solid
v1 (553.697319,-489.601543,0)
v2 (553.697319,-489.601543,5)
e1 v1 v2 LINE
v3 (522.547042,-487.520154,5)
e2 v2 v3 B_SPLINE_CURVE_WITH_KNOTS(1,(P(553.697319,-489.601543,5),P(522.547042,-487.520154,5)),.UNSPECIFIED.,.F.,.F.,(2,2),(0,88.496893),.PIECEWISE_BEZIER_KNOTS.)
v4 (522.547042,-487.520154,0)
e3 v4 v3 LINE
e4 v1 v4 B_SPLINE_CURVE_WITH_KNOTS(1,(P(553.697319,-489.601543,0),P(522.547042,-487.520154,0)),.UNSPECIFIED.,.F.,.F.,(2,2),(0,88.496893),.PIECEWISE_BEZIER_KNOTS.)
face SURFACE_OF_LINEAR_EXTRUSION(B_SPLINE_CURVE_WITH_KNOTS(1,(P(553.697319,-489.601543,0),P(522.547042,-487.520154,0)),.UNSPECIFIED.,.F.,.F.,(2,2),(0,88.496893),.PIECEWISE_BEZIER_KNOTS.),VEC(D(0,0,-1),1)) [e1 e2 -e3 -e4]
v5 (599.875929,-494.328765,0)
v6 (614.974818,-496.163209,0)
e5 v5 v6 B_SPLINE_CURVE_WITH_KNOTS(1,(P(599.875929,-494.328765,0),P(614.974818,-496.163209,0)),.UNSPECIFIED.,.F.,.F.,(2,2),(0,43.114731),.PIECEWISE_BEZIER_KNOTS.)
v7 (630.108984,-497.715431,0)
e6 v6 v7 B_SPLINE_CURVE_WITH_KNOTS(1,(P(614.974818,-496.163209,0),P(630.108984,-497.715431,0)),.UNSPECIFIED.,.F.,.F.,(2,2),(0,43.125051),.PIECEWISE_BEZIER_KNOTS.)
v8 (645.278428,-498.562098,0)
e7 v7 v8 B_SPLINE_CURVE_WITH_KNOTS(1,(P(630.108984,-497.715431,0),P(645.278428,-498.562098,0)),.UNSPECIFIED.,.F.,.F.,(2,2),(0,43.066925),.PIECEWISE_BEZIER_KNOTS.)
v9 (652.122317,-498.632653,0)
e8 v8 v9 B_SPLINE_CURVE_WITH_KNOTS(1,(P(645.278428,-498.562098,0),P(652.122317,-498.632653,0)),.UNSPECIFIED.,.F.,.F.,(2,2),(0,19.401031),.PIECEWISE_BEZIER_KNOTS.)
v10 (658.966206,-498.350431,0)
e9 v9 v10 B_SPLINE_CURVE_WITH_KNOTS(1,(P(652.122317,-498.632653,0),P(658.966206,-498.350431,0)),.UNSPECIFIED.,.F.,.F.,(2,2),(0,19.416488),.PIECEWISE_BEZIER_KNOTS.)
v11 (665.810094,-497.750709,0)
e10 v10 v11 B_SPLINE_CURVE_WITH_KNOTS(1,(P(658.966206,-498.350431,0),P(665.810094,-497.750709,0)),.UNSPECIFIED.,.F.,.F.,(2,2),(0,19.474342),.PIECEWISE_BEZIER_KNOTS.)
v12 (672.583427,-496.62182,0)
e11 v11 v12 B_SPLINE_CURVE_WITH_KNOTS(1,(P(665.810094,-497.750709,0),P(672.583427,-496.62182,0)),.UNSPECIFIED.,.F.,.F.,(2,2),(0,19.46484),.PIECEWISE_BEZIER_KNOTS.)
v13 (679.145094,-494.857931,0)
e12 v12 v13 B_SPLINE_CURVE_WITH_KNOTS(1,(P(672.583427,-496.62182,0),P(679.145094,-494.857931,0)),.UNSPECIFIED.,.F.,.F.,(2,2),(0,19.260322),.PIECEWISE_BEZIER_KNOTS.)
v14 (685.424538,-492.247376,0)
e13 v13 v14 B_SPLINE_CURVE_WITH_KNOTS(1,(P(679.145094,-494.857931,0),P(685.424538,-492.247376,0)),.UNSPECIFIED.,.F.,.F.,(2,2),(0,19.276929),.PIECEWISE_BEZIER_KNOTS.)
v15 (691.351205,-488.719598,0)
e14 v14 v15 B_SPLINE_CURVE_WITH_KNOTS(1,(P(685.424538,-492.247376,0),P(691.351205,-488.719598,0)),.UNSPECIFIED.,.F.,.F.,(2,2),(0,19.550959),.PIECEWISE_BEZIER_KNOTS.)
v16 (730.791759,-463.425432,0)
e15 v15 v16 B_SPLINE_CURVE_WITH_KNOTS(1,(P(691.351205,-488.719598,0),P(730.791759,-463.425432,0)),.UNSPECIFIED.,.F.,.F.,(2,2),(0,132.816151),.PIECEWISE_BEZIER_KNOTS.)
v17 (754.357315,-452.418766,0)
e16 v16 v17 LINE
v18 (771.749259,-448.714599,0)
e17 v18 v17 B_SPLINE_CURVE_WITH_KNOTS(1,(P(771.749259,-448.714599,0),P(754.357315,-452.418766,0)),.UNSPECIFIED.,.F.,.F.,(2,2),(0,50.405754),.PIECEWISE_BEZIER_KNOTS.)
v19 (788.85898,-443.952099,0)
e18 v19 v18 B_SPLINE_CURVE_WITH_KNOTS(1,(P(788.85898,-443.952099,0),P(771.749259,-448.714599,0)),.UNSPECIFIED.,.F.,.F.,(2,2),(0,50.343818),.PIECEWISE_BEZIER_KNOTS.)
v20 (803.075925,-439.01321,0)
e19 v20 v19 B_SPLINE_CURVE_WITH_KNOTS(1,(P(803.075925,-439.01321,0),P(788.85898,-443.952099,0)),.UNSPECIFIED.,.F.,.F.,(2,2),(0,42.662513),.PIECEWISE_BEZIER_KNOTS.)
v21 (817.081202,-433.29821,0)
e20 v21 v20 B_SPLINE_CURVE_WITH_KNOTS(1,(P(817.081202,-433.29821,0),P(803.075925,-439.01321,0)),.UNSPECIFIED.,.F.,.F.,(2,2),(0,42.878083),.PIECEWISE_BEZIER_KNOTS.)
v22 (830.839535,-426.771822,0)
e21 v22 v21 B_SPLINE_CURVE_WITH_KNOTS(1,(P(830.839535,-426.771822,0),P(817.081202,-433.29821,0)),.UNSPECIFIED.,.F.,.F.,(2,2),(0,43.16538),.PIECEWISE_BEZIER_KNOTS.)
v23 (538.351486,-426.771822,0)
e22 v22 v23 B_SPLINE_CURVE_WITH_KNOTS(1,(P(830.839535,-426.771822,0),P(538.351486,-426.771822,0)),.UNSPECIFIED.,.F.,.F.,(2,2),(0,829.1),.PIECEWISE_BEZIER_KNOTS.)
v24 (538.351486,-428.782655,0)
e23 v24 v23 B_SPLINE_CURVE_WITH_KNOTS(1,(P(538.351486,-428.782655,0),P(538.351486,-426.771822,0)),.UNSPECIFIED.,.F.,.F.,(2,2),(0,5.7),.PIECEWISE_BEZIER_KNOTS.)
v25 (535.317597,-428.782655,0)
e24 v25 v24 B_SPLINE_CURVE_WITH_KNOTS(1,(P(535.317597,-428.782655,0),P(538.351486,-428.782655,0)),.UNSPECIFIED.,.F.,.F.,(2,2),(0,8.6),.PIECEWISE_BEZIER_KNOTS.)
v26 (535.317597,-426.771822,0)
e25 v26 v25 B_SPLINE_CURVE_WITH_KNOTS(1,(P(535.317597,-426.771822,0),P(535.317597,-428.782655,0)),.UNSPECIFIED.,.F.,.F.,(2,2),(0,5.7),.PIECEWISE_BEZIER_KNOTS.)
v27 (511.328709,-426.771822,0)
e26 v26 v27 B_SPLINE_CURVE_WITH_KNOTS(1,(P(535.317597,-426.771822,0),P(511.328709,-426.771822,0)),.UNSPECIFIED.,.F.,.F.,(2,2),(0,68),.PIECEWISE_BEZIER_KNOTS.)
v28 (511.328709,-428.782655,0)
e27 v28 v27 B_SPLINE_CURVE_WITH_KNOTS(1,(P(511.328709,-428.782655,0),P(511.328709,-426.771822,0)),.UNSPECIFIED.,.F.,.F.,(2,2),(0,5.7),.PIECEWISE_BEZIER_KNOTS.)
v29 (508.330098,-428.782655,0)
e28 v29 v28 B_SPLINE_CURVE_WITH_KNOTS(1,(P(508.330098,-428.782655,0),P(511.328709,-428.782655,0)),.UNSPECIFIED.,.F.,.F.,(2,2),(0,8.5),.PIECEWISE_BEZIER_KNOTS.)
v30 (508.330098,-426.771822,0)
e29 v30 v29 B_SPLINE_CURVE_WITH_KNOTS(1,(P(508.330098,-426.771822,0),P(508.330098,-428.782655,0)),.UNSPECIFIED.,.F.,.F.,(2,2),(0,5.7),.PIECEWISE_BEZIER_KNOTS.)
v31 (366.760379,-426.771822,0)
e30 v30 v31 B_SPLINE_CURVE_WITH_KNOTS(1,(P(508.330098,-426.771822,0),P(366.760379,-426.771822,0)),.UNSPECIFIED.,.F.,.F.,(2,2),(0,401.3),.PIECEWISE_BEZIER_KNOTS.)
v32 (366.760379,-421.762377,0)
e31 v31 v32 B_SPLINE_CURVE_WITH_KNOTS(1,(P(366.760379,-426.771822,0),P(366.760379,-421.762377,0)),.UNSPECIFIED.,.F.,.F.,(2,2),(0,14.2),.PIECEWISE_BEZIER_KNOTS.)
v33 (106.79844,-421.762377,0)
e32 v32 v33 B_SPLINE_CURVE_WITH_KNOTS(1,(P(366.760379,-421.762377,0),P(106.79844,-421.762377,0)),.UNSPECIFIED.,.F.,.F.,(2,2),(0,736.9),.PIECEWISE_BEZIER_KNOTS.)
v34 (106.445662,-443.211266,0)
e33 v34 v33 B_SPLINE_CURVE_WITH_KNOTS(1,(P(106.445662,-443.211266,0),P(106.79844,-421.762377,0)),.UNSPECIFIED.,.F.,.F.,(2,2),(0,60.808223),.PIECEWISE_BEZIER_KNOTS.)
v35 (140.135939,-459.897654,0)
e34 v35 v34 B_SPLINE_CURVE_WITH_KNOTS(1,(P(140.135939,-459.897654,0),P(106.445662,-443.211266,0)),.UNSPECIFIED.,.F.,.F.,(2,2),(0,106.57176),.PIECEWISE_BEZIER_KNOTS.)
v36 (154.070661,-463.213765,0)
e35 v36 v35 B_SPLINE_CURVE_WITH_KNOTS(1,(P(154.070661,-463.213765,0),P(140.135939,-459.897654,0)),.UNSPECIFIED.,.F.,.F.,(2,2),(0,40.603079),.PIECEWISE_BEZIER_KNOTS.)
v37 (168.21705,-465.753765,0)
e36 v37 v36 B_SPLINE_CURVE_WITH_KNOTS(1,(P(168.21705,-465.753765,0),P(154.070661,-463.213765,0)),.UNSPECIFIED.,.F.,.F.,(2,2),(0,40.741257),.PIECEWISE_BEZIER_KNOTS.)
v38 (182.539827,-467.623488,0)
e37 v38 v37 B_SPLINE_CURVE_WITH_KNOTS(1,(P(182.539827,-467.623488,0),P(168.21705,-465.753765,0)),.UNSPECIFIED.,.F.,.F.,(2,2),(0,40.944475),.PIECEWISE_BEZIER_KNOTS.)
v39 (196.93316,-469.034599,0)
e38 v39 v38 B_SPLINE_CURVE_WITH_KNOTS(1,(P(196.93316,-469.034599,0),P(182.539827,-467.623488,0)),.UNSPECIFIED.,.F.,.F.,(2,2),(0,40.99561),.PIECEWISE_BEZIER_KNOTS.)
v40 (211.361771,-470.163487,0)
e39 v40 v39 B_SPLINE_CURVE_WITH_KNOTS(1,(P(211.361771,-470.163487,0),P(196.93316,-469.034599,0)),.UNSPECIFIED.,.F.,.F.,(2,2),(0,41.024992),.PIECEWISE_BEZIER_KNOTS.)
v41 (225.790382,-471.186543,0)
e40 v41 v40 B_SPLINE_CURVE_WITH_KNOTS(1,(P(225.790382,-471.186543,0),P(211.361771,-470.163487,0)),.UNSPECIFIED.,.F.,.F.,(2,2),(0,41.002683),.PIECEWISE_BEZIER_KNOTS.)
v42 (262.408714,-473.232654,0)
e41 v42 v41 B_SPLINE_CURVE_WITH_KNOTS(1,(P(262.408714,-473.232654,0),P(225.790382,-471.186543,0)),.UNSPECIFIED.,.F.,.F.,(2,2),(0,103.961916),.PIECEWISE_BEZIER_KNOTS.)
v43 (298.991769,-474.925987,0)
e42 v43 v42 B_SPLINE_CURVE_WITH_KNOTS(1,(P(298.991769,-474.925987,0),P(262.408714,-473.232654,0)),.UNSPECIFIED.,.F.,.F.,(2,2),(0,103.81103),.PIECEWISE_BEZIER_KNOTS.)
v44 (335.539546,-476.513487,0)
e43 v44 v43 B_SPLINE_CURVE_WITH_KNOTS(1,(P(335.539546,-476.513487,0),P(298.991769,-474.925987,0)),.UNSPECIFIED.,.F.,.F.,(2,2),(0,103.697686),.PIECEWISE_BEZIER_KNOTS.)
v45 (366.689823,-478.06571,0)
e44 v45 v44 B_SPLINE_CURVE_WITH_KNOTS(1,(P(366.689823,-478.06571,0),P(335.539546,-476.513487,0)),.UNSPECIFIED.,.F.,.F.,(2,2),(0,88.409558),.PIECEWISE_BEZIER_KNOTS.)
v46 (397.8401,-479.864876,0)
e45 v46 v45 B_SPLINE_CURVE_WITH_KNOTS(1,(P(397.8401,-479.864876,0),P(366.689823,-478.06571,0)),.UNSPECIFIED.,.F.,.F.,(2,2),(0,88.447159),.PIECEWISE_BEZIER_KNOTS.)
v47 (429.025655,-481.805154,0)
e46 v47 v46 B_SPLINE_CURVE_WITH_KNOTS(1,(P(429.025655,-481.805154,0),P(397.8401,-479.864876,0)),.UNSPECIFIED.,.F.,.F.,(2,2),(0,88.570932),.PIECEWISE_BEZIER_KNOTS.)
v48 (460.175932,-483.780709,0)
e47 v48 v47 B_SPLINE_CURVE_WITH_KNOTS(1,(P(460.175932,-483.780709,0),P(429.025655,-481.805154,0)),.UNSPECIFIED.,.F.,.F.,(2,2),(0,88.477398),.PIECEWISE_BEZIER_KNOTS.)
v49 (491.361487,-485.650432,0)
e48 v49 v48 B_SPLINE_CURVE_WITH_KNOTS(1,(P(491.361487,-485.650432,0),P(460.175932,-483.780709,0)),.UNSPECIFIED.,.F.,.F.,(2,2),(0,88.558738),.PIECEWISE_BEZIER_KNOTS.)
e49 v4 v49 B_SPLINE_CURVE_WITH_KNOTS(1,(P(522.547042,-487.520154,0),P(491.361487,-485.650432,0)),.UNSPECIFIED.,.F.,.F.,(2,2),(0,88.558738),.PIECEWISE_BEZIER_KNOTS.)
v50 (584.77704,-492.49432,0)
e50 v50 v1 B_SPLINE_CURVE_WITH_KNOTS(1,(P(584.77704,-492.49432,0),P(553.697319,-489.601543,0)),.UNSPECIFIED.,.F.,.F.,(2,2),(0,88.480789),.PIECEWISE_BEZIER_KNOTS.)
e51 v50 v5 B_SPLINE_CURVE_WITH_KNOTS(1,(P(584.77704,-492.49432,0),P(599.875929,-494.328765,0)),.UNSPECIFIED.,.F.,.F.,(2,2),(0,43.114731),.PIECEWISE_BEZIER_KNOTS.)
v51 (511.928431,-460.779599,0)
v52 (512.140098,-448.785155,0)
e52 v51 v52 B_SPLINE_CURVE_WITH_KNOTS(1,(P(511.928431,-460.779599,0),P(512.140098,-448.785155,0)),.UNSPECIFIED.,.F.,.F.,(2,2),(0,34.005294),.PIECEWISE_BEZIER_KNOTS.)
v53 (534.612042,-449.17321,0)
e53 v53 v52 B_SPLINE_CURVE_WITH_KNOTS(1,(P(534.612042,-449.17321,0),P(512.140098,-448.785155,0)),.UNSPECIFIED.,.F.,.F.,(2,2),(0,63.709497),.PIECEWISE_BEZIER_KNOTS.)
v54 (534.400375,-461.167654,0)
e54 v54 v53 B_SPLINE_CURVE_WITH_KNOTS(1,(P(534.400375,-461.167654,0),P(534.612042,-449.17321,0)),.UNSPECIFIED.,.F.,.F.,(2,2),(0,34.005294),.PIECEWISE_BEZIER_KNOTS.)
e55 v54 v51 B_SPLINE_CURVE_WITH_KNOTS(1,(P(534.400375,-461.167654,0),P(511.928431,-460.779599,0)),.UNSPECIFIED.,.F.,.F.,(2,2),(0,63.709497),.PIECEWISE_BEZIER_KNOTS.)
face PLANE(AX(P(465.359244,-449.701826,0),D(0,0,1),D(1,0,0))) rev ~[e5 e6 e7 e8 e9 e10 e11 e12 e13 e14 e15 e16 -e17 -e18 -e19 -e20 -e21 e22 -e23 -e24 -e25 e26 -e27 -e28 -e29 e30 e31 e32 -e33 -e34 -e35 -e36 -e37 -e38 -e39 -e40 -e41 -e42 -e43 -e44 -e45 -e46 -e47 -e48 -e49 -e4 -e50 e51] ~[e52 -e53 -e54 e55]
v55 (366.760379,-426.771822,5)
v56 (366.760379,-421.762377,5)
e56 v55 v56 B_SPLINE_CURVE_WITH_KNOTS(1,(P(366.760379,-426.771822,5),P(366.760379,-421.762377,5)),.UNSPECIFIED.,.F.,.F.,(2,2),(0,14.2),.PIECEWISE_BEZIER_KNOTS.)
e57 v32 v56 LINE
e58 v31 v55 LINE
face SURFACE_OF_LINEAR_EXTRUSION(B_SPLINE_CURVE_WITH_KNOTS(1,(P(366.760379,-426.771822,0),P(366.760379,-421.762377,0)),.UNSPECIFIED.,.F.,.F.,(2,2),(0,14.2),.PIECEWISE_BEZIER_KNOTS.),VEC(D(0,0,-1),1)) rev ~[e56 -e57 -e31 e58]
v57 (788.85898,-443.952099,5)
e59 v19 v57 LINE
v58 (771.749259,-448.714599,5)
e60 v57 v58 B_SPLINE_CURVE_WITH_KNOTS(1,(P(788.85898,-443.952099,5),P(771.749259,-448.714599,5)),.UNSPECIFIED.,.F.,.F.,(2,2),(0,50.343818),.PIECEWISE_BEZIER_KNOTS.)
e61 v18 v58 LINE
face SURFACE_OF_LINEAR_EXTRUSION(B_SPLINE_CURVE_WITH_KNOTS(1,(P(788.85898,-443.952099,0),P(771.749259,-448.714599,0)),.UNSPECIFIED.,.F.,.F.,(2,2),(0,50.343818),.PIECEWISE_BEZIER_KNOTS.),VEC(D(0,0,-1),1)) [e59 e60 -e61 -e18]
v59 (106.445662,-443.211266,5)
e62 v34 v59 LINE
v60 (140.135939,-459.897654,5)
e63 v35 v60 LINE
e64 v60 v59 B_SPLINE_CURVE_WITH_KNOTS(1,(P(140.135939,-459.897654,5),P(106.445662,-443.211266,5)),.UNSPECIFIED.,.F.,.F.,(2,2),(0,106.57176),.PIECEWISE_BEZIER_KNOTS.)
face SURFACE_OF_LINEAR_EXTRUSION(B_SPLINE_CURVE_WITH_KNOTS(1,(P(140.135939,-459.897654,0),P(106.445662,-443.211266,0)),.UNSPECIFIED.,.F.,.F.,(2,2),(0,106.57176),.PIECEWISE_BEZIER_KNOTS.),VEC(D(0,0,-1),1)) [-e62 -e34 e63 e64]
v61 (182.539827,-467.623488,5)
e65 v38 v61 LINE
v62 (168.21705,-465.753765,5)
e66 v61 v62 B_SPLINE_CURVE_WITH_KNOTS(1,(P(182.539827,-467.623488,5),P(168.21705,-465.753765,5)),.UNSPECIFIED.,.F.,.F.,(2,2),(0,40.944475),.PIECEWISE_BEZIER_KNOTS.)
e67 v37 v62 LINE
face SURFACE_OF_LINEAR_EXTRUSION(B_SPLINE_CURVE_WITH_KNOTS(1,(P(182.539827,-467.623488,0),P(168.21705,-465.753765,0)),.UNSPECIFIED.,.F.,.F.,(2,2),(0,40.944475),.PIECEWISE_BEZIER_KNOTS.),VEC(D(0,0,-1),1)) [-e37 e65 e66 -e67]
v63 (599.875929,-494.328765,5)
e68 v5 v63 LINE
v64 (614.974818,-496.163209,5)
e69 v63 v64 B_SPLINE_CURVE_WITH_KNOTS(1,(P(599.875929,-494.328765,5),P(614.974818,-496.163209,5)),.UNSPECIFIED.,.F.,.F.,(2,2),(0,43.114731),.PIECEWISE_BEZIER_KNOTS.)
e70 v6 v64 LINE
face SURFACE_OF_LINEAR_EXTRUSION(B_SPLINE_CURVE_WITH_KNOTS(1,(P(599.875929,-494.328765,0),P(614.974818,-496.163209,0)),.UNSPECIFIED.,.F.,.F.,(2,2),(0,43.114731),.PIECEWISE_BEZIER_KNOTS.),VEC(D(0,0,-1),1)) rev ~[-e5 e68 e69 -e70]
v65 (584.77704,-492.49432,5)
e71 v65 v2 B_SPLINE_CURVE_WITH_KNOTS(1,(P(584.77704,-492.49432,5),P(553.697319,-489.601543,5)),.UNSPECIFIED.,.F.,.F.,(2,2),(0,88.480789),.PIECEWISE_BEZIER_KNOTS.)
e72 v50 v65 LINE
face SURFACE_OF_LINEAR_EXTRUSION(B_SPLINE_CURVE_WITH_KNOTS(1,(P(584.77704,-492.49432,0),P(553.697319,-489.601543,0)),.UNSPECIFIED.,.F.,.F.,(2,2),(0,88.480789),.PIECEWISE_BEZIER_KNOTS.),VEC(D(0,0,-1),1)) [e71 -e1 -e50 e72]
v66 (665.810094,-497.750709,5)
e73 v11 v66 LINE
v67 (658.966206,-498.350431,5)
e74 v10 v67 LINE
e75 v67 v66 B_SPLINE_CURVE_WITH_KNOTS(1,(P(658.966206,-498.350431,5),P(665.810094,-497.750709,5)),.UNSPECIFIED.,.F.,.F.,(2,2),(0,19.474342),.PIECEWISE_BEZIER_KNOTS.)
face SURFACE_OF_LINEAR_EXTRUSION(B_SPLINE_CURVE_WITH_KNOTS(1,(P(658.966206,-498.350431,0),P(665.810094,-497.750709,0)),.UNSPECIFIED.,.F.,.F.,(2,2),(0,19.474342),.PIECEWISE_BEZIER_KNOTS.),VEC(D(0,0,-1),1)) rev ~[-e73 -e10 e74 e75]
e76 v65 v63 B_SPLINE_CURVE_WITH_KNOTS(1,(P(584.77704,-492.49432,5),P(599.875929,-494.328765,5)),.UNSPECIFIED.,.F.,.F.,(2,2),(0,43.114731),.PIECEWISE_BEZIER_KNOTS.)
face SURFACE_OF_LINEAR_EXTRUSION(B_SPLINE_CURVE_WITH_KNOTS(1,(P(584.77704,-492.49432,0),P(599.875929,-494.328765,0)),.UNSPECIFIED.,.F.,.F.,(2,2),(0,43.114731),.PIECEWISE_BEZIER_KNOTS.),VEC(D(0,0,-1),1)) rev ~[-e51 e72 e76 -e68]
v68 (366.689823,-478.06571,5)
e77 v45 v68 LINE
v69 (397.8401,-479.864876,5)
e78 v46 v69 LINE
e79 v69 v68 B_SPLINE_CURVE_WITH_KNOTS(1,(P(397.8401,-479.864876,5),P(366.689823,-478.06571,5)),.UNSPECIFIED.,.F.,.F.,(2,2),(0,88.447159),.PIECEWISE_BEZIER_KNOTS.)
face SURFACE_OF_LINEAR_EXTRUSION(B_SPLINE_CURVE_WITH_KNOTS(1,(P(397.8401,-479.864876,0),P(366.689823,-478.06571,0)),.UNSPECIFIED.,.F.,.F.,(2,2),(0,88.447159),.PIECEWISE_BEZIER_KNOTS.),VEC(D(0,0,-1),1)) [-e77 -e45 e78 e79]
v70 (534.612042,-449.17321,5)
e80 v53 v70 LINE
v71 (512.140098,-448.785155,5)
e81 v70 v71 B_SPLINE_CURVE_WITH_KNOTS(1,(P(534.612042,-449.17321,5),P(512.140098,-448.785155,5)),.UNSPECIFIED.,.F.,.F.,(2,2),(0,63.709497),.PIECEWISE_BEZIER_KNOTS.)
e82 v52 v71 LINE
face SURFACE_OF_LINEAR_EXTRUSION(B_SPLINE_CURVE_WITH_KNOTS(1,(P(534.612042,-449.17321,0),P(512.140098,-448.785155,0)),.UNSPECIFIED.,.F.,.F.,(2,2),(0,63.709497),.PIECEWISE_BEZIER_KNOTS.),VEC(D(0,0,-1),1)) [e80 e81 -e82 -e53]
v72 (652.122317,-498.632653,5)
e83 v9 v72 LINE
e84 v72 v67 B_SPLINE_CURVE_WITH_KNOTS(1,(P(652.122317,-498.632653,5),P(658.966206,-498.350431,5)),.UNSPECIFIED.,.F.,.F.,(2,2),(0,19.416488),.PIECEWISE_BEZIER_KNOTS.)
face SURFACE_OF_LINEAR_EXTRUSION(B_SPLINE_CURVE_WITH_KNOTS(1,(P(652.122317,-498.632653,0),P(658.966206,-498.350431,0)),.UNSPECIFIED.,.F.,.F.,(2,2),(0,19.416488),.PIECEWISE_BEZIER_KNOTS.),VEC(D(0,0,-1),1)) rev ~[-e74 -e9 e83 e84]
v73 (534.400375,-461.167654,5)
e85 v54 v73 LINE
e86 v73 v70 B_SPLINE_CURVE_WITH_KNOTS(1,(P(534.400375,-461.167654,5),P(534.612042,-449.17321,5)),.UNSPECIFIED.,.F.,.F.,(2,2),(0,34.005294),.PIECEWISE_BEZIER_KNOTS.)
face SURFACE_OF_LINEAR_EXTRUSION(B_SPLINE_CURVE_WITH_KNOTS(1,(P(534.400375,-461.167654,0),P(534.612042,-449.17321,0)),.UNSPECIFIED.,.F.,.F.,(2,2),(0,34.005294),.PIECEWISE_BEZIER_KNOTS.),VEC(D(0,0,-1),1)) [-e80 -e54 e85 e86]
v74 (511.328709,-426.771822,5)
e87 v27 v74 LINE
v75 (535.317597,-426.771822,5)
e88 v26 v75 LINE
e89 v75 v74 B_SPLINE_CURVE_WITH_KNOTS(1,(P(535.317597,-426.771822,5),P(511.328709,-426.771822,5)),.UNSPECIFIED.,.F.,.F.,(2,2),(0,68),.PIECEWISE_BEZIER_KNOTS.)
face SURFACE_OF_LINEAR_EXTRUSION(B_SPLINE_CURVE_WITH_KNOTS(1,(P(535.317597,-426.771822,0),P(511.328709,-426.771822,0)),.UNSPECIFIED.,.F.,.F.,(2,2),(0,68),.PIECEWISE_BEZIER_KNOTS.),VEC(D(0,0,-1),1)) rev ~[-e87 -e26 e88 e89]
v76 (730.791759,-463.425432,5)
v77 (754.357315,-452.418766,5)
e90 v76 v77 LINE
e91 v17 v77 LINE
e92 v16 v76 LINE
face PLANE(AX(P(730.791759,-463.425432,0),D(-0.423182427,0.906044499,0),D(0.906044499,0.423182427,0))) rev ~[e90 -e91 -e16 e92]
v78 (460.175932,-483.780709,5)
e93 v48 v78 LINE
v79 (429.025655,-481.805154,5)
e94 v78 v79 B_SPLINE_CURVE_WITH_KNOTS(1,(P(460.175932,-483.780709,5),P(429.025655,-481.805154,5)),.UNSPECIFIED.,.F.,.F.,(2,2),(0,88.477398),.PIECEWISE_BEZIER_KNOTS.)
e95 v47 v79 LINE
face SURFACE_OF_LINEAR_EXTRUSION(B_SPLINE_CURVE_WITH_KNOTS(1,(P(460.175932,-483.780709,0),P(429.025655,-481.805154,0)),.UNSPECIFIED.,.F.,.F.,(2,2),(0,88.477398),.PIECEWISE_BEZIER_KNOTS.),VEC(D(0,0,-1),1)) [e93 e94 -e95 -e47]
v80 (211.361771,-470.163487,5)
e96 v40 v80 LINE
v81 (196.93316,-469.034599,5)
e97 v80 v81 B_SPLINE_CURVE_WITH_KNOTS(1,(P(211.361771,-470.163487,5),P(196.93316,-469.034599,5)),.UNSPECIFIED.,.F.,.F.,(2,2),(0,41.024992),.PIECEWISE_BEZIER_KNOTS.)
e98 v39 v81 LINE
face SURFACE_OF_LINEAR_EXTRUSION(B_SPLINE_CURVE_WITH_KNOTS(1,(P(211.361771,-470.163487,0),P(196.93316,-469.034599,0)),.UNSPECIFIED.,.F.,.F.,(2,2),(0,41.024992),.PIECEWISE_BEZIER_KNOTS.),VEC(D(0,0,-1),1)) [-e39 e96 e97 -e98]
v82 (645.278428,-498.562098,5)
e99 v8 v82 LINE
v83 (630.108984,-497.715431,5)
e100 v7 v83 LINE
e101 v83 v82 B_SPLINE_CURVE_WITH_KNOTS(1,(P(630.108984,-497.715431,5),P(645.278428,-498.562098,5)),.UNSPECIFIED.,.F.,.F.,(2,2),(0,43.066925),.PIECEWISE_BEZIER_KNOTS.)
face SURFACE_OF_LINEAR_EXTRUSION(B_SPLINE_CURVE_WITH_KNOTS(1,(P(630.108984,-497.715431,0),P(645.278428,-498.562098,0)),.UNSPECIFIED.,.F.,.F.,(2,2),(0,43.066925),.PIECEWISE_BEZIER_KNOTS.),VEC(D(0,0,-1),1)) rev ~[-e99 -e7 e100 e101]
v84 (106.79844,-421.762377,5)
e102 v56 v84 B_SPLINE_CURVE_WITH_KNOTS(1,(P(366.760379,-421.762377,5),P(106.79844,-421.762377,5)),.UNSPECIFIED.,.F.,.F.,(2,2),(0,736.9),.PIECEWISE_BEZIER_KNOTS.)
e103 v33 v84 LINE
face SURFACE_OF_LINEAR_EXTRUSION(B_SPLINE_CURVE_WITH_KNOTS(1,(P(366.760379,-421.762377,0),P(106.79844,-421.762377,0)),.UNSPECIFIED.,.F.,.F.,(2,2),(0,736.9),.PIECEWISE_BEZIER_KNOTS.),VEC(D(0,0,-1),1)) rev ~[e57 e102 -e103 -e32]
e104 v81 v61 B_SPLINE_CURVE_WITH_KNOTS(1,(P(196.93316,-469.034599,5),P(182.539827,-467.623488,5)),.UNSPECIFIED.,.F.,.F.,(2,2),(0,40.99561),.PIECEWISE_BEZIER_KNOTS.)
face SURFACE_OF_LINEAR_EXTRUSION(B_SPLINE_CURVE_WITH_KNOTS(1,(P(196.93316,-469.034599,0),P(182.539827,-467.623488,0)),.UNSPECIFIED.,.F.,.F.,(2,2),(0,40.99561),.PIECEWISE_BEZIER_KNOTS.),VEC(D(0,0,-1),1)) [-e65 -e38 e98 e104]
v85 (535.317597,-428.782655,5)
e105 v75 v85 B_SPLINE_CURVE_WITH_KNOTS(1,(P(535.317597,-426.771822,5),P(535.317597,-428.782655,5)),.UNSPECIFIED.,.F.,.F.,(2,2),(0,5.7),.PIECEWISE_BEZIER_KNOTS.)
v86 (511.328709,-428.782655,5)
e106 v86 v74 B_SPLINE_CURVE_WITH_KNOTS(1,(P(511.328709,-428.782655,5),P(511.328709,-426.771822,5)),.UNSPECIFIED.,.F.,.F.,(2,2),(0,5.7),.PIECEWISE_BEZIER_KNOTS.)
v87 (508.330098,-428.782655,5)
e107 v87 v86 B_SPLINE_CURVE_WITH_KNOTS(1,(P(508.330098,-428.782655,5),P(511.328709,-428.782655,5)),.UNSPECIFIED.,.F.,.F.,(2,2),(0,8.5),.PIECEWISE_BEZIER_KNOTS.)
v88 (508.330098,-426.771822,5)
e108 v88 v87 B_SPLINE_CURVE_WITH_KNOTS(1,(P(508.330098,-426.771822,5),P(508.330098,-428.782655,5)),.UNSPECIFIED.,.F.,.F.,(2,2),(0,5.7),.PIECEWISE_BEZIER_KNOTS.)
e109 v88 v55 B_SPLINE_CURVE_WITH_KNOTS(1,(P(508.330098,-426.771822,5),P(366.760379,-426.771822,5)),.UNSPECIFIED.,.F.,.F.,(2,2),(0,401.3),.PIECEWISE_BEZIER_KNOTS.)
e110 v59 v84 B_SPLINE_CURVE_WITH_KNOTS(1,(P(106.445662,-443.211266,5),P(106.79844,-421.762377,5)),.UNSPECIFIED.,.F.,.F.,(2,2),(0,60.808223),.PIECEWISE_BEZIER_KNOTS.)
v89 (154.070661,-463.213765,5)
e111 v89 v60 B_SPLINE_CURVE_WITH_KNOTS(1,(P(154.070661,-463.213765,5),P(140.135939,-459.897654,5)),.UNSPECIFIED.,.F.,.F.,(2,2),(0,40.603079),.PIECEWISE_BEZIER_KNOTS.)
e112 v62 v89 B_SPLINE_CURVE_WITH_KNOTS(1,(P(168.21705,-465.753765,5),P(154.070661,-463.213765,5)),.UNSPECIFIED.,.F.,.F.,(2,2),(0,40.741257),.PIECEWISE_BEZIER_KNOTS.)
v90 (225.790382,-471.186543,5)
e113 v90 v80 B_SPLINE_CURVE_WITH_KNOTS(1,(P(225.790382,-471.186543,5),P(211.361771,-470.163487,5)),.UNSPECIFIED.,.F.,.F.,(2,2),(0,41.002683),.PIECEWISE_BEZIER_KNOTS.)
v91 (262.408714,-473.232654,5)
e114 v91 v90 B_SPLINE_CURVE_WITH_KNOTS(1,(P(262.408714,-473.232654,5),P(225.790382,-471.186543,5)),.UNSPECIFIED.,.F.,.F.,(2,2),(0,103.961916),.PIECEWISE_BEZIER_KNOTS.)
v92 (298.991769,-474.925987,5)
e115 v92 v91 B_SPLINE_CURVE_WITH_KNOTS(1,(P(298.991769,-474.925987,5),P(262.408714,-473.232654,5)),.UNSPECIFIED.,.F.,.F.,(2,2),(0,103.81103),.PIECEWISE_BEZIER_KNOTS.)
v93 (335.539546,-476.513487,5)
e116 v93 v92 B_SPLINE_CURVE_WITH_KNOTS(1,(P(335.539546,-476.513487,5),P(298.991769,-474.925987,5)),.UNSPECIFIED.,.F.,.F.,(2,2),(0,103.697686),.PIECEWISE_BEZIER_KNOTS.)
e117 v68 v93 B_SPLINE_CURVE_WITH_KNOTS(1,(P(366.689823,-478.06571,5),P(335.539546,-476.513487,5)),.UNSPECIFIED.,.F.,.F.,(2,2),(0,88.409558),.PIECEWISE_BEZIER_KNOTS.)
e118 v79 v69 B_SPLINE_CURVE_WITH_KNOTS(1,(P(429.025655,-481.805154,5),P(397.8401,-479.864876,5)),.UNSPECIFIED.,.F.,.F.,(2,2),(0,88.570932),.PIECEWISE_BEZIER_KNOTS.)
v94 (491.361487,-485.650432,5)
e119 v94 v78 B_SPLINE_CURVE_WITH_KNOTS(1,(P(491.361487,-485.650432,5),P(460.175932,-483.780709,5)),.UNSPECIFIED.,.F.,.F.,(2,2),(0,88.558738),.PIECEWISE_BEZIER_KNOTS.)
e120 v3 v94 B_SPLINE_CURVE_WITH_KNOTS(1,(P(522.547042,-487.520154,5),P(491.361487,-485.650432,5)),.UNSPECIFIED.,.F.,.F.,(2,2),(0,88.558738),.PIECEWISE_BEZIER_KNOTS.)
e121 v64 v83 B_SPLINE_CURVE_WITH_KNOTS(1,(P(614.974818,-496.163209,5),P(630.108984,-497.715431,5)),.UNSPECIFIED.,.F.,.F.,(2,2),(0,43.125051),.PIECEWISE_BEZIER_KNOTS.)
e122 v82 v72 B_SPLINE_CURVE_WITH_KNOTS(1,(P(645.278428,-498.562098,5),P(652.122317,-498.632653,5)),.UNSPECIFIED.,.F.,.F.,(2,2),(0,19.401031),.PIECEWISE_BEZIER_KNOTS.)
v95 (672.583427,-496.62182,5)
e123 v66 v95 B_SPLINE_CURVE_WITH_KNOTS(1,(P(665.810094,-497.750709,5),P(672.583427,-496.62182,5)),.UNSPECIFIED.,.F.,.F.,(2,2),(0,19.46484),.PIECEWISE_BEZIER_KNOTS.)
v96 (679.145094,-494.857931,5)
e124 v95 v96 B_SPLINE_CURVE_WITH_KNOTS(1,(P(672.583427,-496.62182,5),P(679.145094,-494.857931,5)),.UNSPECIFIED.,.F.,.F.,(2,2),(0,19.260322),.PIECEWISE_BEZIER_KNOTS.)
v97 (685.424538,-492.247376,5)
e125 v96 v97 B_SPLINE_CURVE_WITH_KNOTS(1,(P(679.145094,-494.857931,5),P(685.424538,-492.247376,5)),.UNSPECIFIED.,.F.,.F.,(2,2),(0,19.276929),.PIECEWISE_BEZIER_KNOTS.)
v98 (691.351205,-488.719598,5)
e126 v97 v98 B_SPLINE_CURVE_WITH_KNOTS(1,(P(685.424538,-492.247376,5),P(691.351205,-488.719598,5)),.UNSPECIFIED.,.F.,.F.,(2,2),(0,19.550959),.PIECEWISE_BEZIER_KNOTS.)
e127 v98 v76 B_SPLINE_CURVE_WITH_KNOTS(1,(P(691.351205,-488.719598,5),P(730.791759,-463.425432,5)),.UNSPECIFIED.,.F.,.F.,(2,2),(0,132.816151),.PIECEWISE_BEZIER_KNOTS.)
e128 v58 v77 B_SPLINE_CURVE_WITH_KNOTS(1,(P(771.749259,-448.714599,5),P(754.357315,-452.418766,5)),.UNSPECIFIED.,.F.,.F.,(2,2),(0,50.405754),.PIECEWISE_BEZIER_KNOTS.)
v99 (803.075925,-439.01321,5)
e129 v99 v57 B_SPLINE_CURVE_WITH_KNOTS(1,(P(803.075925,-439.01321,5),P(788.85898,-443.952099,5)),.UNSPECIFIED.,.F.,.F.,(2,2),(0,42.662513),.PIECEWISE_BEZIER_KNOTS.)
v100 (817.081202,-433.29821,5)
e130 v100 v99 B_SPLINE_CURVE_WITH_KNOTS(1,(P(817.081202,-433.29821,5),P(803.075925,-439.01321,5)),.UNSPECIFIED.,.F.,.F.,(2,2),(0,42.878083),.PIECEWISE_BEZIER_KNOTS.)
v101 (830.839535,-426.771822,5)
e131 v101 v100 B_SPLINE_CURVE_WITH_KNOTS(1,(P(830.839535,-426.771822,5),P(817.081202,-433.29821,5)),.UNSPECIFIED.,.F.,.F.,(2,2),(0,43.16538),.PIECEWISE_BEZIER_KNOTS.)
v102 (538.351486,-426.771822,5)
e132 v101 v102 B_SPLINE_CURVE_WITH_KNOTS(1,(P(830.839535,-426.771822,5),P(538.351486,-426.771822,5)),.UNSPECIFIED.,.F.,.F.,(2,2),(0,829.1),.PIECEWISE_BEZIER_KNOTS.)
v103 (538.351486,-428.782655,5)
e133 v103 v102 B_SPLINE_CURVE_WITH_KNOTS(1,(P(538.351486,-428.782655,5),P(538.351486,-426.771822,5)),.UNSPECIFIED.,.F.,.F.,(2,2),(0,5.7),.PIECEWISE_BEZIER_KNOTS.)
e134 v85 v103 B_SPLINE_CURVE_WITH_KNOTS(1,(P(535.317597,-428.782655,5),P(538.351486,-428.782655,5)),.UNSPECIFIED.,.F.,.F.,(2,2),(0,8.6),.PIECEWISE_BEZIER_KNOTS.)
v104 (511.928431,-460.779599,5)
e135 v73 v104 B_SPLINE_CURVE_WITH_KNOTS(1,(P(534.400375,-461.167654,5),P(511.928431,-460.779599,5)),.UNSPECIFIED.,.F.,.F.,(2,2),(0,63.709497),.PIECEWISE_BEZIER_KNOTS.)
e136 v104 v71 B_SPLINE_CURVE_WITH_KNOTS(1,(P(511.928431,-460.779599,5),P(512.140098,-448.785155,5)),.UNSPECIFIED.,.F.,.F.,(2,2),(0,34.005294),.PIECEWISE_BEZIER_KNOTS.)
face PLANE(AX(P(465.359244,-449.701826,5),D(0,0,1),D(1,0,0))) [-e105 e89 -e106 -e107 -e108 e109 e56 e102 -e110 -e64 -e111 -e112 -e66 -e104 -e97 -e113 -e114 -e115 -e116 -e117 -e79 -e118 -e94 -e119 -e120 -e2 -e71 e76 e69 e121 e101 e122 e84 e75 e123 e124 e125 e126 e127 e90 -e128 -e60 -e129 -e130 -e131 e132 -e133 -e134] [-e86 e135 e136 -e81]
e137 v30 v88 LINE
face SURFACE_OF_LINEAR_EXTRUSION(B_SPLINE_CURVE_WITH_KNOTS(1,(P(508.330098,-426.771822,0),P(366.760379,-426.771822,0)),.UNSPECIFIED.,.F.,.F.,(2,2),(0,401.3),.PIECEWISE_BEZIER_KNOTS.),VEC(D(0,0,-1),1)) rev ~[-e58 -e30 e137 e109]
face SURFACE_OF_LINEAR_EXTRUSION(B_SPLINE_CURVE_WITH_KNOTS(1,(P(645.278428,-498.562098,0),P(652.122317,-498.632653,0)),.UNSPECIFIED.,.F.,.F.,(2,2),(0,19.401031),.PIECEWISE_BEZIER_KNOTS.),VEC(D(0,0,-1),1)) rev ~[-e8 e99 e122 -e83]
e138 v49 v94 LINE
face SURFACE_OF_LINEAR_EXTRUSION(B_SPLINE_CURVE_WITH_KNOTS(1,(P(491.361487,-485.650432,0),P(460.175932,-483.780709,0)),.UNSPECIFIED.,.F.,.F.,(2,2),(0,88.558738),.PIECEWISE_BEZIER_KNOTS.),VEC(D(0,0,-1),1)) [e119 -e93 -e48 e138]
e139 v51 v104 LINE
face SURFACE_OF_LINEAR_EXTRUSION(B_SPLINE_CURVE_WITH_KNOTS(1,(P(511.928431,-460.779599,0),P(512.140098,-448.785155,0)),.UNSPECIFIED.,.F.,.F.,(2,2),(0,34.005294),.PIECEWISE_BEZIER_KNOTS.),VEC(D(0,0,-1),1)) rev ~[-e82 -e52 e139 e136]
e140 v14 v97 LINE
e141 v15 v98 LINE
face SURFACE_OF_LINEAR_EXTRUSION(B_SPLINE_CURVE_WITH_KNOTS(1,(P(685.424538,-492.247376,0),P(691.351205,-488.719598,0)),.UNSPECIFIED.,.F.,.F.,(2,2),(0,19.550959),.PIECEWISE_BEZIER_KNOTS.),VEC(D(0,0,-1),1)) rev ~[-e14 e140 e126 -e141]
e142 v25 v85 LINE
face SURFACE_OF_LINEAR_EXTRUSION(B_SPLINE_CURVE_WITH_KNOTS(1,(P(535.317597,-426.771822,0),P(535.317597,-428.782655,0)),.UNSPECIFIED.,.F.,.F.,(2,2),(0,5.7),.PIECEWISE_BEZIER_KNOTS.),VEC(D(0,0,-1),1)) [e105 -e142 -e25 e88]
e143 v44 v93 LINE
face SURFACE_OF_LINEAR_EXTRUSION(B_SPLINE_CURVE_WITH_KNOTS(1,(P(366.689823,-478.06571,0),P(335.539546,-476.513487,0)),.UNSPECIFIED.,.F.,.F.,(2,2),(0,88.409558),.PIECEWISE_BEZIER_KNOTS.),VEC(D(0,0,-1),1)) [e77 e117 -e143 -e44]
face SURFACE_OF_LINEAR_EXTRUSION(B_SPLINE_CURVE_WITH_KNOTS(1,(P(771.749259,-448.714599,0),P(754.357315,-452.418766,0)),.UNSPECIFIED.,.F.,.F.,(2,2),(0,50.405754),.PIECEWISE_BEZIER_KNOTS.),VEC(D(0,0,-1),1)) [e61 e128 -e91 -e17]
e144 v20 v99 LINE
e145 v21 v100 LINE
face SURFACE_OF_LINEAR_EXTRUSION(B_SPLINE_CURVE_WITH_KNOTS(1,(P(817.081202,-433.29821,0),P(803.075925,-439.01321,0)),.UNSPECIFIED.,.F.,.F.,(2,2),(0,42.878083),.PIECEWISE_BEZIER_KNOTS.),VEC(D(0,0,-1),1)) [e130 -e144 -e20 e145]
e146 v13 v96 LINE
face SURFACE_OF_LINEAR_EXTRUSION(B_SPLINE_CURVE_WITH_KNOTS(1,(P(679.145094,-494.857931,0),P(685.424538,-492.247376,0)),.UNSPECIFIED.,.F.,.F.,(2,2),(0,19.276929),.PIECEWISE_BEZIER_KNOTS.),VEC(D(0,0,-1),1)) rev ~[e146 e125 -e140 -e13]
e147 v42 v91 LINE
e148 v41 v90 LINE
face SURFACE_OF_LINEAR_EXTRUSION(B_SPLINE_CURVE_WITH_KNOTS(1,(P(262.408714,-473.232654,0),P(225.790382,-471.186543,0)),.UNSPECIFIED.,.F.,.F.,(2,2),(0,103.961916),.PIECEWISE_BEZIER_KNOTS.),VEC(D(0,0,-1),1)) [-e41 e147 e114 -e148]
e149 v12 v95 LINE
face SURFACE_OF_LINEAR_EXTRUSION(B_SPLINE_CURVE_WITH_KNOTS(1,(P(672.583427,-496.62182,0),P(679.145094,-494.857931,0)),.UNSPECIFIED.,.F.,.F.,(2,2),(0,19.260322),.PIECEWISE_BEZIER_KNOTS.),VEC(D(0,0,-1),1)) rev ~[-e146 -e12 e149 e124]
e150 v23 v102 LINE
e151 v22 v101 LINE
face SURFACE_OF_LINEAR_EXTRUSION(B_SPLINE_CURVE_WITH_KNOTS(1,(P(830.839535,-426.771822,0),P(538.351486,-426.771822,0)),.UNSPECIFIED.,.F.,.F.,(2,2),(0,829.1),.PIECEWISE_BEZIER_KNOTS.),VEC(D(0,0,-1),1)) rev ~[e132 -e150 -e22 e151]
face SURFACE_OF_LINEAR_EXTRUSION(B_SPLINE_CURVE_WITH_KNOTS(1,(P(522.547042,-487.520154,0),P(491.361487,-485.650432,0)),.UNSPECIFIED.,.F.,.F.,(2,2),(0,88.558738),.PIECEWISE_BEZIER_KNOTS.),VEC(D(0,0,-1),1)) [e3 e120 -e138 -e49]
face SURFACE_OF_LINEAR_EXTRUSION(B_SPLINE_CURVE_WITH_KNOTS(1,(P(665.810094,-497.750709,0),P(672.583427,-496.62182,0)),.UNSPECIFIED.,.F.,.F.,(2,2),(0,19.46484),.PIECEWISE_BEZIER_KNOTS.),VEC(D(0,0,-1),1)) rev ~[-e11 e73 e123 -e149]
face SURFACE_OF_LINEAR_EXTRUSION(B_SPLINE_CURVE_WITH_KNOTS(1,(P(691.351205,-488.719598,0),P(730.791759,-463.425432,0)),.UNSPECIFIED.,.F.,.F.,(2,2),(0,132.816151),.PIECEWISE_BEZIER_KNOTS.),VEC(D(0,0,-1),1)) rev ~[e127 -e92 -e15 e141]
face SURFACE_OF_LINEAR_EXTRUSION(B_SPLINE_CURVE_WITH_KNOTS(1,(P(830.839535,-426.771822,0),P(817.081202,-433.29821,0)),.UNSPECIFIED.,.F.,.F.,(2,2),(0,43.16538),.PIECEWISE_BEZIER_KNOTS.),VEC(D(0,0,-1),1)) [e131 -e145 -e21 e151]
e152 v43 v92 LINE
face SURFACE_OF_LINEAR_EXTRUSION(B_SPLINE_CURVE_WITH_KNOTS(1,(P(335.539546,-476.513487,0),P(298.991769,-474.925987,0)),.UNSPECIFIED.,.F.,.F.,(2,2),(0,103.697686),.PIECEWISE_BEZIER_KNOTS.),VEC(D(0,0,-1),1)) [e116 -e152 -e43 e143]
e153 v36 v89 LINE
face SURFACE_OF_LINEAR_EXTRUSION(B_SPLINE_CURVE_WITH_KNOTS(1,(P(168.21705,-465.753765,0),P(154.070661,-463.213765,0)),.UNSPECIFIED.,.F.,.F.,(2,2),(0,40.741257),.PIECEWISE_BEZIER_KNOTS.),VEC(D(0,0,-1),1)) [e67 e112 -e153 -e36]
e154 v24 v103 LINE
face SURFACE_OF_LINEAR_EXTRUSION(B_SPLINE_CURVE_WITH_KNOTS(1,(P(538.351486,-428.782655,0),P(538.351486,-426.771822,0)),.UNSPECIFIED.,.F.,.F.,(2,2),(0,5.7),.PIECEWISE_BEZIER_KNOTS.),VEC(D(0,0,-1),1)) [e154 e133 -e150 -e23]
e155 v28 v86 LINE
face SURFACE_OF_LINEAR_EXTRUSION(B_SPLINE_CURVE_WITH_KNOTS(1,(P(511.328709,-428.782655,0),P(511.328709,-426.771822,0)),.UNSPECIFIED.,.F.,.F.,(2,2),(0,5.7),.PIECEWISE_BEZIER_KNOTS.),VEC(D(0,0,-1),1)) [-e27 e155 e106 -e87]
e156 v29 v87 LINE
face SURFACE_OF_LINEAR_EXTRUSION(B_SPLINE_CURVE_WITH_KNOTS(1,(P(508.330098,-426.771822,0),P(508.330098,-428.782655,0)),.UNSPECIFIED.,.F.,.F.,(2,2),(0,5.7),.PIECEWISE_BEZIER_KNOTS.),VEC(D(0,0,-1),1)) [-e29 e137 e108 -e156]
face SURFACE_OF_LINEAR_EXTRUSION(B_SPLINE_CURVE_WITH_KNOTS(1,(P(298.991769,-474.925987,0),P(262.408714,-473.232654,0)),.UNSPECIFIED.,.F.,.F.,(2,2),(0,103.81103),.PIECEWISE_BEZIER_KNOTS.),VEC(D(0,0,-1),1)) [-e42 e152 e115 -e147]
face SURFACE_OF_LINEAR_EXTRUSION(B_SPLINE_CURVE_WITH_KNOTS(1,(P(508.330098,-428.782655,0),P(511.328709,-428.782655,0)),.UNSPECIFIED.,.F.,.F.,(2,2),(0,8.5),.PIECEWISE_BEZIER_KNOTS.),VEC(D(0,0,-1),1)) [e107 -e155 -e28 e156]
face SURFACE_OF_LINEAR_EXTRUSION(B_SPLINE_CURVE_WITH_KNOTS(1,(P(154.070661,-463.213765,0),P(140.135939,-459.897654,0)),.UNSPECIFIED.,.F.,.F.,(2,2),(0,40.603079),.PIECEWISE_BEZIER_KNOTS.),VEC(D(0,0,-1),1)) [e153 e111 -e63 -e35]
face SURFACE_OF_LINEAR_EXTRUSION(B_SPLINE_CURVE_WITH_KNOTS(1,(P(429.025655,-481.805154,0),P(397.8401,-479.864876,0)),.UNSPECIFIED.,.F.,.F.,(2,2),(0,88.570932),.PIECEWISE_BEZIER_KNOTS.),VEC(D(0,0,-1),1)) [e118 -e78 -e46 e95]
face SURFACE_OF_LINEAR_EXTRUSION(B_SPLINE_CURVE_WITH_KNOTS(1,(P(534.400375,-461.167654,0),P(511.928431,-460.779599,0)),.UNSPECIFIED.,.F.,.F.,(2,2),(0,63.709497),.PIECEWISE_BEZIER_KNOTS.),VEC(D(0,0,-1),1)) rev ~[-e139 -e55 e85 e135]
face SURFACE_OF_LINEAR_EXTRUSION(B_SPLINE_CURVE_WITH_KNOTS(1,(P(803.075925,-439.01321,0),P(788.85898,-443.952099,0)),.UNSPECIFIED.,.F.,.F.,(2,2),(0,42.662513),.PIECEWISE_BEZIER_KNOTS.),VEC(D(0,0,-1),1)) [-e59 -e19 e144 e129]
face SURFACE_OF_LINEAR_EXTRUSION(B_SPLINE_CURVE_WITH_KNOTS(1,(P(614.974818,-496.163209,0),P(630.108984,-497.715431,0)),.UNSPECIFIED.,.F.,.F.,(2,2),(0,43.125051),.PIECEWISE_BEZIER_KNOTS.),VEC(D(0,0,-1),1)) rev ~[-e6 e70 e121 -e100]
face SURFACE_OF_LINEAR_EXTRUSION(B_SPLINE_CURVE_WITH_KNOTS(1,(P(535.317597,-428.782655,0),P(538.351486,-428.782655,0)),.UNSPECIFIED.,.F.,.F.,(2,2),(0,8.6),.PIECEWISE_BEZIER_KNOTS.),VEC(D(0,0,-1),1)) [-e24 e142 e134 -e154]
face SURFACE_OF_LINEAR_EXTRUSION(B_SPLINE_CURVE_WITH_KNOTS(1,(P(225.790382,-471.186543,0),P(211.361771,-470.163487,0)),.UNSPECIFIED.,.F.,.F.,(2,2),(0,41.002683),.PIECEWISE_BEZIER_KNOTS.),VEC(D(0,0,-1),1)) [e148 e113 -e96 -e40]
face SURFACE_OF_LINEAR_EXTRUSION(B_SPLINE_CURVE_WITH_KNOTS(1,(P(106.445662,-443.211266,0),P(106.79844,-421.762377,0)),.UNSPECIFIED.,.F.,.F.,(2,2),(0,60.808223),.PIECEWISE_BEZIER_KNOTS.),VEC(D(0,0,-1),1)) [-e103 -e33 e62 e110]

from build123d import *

# Parameters (mm, degrees)
PAD011_DEPTH = 5


with BuildPart() as part:
    # Sketch006 → Pad011 (new body)
    with BuildSketch(Plane.XY):
        with BuildLine():
            add(Edge.make_bspline(
                [(584.77704, -492.49432), (599.875929, -494.328765)],
                knots=[0, 0, 43.114731, 43.114731], degree=1))
            add(Edge.make_bspline(
                [(599.875929, -494.328765), (614.974818, -496.163209)],
                knots=[0, 0, 43.114731, 43.114731], degree=1))
            add(Edge.make_bspline(
                [(614.974818, -496.163209), (630.108984, -497.715431)],
                knots=[0, 0, 43.125051, 43.125051], degree=1))
            add(Edge.make_bspline(
                [(630.108984, -497.715431), (645.278428, -498.562098)],
                knots=[0, 0, 43.066925, 43.066925], degree=1))
            add(Edge.make_bspline(
                [(645.278428, -498.562098), (652.122317, -498.632653)],
                knots=[0, 0, 19.401031, 19.401031], degree=1))
            add(Edge.make_bspline(
                [(652.122317, -498.632653), (658.966206, -498.350431)],
                knots=[0, 0, 19.416488, 19.416488], degree=1))
            add(Edge.make_bspline(
                [(658.966206, -498.350431), (665.810094, -497.750709)],
                knots=[0, 0, 19.474342, 19.474342], degree=1))
            add(Edge.make_bspline(
                [(665.810094, -497.750709), (672.583427, -496.62182)],
                knots=[0, 0, 19.46484, 19.46484], degree=1))
            add(Edge.make_bspline(
                [(672.583427, -496.62182), (679.145094, -494.857931)],
                knots=[0, 0, 19.260322, 19.260322], degree=1))
            add(Edge.make_bspline(
                [(679.145094, -494.857931), (685.424538, -492.247376)],
                knots=[0, 0, 19.276929, 19.276929], degree=1))
            add(Edge.make_bspline(
                [(685.424538, -492.247376), (691.351205, -488.719598)],
                knots=[0, 0, 19.550959, 19.550959], degree=1))
            add(Edge.make_bspline(
                [(691.351205, -488.719598), (730.791759, -463.425432)],
                knots=[0, 0, 132.816151, 132.816151], degree=1))
            add(Edge.make_bspline(
                [(730.791759, -463.425432), (742.574537, -457.922099)],
                knots=[0, 0, 36.863532, 36.863532], degree=1))
            add(Edge.make_bspline(
                [(754.357315, -452.418766), (742.574537, -457.922099)],
                knots=[0, 0, 36.863532, 36.863532], degree=1))
            add(Edge.make_bspline(
                [(771.749259, -448.714599), (754.357315, -452.418766)],
                knots=[0, 0, 50.405754, 50.405754], degree=1))
            add(Edge.make_bspline(
                [(788.85898, -443.952099), (771.749259, -448.714599)],
                knots=[0, 0, 50.343818, 50.343818], degree=1))
            add(Edge.make_bspline(
                [(803.075925, -439.01321), (788.85898, -443.952099)],
                knots=[0, 0, 42.662513, 42.662513], degree=1))
            add(Edge.make_bspline(
                [(817.081202, -433.29821), (803.075925, -439.01321)],
                knots=[0, 0, 42.878083, 42.878083], degree=1))
            add(Edge.make_bspline(
                [(830.839535, -426.771822), (817.081202, -433.29821)],
                knots=[0, 0, 43.16538, 43.16538], degree=1))
            add(Edge.make_bspline(
                [(830.839535, -426.771822), (538.351486, -426.771822)],
                knots=[0, 0, 829.1, 829.1], degree=1))
            add(Edge.make_bspline(
                [(538.351486, -428.782655), (538.351486, -426.771822)],
                knots=[0, 0, 5.7, 5.7], degree=1))
            add(Edge.make_bspline(
                [(535.317597, -428.782655), (538.351486, -428.782655)],
                knots=[0, 0, 8.6, 8.6], degree=1))
            add(Edge.make_bspline(
                [(535.317597, -426.771822), (535.317597, -428.782655)],
                knots=[0, 0, 5.7, 5.7], degree=1))
            add(Edge.make_bspline(
                [(535.317597, -426.771822), (511.328709, -426.771822)],
                knots=[0, 0, 68, 68], degree=1))
            add(Edge.make_bspline(
                [(511.328709, -428.782655), (511.328709, -426.771822)],
                knots=[0, 0, 5.7, 5.7], degree=1))
            add(Edge.make_bspline(
                [(508.330098, -428.782655), (511.328709, -428.782655)],
                knots=[0, 0, 8.5, 8.5], degree=1))
            add(Edge.make_bspline(
                [(508.330098, -426.771822), (508.330098, -428.782655)],
                knots=[0, 0, 5.7, 5.7], degree=1))
            add(Edge.make_bspline(
                [(508.330098, -426.771822), (366.760379, -426.771822)],
                knots=[0, 0, 401.3, 401.3], degree=1))
            add(Edge.make_bspline(
                [(366.760379, -426.771822), (366.760379, -421.762377)],
                knots=[0, 0, 14.2, 14.2], degree=1))
            add(Edge.make_bspline(
                [(366.760379, -421.762377), (106.79844, -421.762377)],
                knots=[0, 0, 736.9, 736.9], degree=1))
            add(Edge.make_bspline(
                [(106.445662, -443.211266), (106.79844, -421.762377)],
                knots=[0, 0, 60.808223, 60.808223], degree=1))
            add(Edge.make_bspline(
                [(140.135939, -459.897654), (106.445662, -443.211266)],
                knots=[0, 0, 106.57176, 106.57176], degree=1))
            add(Edge.make_bspline(
                [(154.070661, -463.213765), (140.135939, -459.897654)],
                knots=[0, 0, 40.603079, 40.603079], degree=1))
            add(Edge.make_bspline(
                [(168.21705, -465.753765), (154.070661, -463.213765)],
                knots=[0, 0, 40.741257, 40.741257], degree=1))
            add(Edge.make_bspline(
                [(182.539827, -467.623488), (168.21705, -465.753765)],
                knots=[0, 0, 40.944475, 40.944475], degree=1))
            add(Edge.make_bspline(
                [(196.93316, -469.034599), (182.539827, -467.623488)],
                knots=[0, 0, 40.99561, 40.99561], degree=1))
            add(Edge.make_bspline(
                [(211.361771, -470.163487), (196.93316, -469.034599)],
                knots=[0, 0, 41.024992, 41.024992], degree=1))
            add(Edge.make_bspline(
                [(225.790382, -471.186543), (211.361771, -470.163487)],
                knots=[0, 0, 41.002683, 41.002683], degree=1))
            add(Edge.make_bspline(
                [(262.408714, -473.232654), (225.790382, -471.186543)],
                knots=[0, 0, 103.961916, 103.961916], degree=1))
            add(Edge.make_bspline(
                [(298.991769, -474.925987), (262.408714, -473.232654)],
                knots=[0, 0, 103.81103, 103.81103], degree=1))
            add(Edge.make_bspline(
                [(335.539546, -476.513487), (298.991769, -474.925987)],
                knots=[0, 0, 103.697686, 103.697686], degree=1))
            add(Edge.make_bspline(
                [(366.689823, -478.06571), (335.539546, -476.513487)],
                knots=[0, 0, 88.409558, 88.409558], degree=1))
            add(Edge.make_bspline(
                [(397.8401, -479.864876), (366.689823, -478.06571)],
                knots=[0, 0, 88.447159, 88.447159], degree=1))
            add(Edge.make_bspline(
                [(429.025655, -481.805154), (397.8401, -479.864876)],
                knots=[0, 0, 88.570932, 88.570932], degree=1))
            add(Edge.make_bspline(
                [(460.175932, -483.780709), (429.025655, -481.805154)],
                knots=[0, 0, 88.477398, 88.477398], degree=1))
            add(Edge.make_bspline(
                [(491.361487, -485.650432), (460.175932, -483.780709)],
                knots=[0, 0, 88.558738, 88.558738], degree=1))
            add(Edge.make_bspline(
                [(522.547042, -487.520154), (491.361487, -485.650432)],
                knots=[0, 0, 88.558738, 88.558738], degree=1))
            add(Edge.make_bspline(
                [(553.697319, -489.601543), (522.547042, -487.520154)],
                knots=[0, 0, 88.496893, 88.496893], degree=1))
            add(Edge.make_bspline(
                [(584.77704, -492.49432), (553.697319, -489.601543)],
                knots=[0, 0, 88.480789, 88.480789], degree=1))
        make_face()
        with BuildLine():
            add(Edge.make_bspline(
                [(511.928431, -460.779599), (512.140098, -448.785155)],
                knots=[0, 0, 34.005294, 34.005294], degree=1))
            add(Edge.make_bspline(
                [(534.612042, -449.17321), (512.140098, -448.785155)],
                knots=[0, 0, 63.709497, 63.709497], degree=1))
            add(Edge.make_bspline(
                [(534.400375, -461.167654), (534.612042, -449.17321)],
                knots=[0, 0, 34.005294, 34.005294], degree=1))
            add(Edge.make_bspline(
                [(534.400375, -461.167654), (511.928431, -460.779599)],
                knots=[0, 0, 63.709497, 63.709497], degree=1))
        make_face(mode=Mode.SUBTRACT)
    extrude(amount=PAD011_DEPTH)


solid = part.part
